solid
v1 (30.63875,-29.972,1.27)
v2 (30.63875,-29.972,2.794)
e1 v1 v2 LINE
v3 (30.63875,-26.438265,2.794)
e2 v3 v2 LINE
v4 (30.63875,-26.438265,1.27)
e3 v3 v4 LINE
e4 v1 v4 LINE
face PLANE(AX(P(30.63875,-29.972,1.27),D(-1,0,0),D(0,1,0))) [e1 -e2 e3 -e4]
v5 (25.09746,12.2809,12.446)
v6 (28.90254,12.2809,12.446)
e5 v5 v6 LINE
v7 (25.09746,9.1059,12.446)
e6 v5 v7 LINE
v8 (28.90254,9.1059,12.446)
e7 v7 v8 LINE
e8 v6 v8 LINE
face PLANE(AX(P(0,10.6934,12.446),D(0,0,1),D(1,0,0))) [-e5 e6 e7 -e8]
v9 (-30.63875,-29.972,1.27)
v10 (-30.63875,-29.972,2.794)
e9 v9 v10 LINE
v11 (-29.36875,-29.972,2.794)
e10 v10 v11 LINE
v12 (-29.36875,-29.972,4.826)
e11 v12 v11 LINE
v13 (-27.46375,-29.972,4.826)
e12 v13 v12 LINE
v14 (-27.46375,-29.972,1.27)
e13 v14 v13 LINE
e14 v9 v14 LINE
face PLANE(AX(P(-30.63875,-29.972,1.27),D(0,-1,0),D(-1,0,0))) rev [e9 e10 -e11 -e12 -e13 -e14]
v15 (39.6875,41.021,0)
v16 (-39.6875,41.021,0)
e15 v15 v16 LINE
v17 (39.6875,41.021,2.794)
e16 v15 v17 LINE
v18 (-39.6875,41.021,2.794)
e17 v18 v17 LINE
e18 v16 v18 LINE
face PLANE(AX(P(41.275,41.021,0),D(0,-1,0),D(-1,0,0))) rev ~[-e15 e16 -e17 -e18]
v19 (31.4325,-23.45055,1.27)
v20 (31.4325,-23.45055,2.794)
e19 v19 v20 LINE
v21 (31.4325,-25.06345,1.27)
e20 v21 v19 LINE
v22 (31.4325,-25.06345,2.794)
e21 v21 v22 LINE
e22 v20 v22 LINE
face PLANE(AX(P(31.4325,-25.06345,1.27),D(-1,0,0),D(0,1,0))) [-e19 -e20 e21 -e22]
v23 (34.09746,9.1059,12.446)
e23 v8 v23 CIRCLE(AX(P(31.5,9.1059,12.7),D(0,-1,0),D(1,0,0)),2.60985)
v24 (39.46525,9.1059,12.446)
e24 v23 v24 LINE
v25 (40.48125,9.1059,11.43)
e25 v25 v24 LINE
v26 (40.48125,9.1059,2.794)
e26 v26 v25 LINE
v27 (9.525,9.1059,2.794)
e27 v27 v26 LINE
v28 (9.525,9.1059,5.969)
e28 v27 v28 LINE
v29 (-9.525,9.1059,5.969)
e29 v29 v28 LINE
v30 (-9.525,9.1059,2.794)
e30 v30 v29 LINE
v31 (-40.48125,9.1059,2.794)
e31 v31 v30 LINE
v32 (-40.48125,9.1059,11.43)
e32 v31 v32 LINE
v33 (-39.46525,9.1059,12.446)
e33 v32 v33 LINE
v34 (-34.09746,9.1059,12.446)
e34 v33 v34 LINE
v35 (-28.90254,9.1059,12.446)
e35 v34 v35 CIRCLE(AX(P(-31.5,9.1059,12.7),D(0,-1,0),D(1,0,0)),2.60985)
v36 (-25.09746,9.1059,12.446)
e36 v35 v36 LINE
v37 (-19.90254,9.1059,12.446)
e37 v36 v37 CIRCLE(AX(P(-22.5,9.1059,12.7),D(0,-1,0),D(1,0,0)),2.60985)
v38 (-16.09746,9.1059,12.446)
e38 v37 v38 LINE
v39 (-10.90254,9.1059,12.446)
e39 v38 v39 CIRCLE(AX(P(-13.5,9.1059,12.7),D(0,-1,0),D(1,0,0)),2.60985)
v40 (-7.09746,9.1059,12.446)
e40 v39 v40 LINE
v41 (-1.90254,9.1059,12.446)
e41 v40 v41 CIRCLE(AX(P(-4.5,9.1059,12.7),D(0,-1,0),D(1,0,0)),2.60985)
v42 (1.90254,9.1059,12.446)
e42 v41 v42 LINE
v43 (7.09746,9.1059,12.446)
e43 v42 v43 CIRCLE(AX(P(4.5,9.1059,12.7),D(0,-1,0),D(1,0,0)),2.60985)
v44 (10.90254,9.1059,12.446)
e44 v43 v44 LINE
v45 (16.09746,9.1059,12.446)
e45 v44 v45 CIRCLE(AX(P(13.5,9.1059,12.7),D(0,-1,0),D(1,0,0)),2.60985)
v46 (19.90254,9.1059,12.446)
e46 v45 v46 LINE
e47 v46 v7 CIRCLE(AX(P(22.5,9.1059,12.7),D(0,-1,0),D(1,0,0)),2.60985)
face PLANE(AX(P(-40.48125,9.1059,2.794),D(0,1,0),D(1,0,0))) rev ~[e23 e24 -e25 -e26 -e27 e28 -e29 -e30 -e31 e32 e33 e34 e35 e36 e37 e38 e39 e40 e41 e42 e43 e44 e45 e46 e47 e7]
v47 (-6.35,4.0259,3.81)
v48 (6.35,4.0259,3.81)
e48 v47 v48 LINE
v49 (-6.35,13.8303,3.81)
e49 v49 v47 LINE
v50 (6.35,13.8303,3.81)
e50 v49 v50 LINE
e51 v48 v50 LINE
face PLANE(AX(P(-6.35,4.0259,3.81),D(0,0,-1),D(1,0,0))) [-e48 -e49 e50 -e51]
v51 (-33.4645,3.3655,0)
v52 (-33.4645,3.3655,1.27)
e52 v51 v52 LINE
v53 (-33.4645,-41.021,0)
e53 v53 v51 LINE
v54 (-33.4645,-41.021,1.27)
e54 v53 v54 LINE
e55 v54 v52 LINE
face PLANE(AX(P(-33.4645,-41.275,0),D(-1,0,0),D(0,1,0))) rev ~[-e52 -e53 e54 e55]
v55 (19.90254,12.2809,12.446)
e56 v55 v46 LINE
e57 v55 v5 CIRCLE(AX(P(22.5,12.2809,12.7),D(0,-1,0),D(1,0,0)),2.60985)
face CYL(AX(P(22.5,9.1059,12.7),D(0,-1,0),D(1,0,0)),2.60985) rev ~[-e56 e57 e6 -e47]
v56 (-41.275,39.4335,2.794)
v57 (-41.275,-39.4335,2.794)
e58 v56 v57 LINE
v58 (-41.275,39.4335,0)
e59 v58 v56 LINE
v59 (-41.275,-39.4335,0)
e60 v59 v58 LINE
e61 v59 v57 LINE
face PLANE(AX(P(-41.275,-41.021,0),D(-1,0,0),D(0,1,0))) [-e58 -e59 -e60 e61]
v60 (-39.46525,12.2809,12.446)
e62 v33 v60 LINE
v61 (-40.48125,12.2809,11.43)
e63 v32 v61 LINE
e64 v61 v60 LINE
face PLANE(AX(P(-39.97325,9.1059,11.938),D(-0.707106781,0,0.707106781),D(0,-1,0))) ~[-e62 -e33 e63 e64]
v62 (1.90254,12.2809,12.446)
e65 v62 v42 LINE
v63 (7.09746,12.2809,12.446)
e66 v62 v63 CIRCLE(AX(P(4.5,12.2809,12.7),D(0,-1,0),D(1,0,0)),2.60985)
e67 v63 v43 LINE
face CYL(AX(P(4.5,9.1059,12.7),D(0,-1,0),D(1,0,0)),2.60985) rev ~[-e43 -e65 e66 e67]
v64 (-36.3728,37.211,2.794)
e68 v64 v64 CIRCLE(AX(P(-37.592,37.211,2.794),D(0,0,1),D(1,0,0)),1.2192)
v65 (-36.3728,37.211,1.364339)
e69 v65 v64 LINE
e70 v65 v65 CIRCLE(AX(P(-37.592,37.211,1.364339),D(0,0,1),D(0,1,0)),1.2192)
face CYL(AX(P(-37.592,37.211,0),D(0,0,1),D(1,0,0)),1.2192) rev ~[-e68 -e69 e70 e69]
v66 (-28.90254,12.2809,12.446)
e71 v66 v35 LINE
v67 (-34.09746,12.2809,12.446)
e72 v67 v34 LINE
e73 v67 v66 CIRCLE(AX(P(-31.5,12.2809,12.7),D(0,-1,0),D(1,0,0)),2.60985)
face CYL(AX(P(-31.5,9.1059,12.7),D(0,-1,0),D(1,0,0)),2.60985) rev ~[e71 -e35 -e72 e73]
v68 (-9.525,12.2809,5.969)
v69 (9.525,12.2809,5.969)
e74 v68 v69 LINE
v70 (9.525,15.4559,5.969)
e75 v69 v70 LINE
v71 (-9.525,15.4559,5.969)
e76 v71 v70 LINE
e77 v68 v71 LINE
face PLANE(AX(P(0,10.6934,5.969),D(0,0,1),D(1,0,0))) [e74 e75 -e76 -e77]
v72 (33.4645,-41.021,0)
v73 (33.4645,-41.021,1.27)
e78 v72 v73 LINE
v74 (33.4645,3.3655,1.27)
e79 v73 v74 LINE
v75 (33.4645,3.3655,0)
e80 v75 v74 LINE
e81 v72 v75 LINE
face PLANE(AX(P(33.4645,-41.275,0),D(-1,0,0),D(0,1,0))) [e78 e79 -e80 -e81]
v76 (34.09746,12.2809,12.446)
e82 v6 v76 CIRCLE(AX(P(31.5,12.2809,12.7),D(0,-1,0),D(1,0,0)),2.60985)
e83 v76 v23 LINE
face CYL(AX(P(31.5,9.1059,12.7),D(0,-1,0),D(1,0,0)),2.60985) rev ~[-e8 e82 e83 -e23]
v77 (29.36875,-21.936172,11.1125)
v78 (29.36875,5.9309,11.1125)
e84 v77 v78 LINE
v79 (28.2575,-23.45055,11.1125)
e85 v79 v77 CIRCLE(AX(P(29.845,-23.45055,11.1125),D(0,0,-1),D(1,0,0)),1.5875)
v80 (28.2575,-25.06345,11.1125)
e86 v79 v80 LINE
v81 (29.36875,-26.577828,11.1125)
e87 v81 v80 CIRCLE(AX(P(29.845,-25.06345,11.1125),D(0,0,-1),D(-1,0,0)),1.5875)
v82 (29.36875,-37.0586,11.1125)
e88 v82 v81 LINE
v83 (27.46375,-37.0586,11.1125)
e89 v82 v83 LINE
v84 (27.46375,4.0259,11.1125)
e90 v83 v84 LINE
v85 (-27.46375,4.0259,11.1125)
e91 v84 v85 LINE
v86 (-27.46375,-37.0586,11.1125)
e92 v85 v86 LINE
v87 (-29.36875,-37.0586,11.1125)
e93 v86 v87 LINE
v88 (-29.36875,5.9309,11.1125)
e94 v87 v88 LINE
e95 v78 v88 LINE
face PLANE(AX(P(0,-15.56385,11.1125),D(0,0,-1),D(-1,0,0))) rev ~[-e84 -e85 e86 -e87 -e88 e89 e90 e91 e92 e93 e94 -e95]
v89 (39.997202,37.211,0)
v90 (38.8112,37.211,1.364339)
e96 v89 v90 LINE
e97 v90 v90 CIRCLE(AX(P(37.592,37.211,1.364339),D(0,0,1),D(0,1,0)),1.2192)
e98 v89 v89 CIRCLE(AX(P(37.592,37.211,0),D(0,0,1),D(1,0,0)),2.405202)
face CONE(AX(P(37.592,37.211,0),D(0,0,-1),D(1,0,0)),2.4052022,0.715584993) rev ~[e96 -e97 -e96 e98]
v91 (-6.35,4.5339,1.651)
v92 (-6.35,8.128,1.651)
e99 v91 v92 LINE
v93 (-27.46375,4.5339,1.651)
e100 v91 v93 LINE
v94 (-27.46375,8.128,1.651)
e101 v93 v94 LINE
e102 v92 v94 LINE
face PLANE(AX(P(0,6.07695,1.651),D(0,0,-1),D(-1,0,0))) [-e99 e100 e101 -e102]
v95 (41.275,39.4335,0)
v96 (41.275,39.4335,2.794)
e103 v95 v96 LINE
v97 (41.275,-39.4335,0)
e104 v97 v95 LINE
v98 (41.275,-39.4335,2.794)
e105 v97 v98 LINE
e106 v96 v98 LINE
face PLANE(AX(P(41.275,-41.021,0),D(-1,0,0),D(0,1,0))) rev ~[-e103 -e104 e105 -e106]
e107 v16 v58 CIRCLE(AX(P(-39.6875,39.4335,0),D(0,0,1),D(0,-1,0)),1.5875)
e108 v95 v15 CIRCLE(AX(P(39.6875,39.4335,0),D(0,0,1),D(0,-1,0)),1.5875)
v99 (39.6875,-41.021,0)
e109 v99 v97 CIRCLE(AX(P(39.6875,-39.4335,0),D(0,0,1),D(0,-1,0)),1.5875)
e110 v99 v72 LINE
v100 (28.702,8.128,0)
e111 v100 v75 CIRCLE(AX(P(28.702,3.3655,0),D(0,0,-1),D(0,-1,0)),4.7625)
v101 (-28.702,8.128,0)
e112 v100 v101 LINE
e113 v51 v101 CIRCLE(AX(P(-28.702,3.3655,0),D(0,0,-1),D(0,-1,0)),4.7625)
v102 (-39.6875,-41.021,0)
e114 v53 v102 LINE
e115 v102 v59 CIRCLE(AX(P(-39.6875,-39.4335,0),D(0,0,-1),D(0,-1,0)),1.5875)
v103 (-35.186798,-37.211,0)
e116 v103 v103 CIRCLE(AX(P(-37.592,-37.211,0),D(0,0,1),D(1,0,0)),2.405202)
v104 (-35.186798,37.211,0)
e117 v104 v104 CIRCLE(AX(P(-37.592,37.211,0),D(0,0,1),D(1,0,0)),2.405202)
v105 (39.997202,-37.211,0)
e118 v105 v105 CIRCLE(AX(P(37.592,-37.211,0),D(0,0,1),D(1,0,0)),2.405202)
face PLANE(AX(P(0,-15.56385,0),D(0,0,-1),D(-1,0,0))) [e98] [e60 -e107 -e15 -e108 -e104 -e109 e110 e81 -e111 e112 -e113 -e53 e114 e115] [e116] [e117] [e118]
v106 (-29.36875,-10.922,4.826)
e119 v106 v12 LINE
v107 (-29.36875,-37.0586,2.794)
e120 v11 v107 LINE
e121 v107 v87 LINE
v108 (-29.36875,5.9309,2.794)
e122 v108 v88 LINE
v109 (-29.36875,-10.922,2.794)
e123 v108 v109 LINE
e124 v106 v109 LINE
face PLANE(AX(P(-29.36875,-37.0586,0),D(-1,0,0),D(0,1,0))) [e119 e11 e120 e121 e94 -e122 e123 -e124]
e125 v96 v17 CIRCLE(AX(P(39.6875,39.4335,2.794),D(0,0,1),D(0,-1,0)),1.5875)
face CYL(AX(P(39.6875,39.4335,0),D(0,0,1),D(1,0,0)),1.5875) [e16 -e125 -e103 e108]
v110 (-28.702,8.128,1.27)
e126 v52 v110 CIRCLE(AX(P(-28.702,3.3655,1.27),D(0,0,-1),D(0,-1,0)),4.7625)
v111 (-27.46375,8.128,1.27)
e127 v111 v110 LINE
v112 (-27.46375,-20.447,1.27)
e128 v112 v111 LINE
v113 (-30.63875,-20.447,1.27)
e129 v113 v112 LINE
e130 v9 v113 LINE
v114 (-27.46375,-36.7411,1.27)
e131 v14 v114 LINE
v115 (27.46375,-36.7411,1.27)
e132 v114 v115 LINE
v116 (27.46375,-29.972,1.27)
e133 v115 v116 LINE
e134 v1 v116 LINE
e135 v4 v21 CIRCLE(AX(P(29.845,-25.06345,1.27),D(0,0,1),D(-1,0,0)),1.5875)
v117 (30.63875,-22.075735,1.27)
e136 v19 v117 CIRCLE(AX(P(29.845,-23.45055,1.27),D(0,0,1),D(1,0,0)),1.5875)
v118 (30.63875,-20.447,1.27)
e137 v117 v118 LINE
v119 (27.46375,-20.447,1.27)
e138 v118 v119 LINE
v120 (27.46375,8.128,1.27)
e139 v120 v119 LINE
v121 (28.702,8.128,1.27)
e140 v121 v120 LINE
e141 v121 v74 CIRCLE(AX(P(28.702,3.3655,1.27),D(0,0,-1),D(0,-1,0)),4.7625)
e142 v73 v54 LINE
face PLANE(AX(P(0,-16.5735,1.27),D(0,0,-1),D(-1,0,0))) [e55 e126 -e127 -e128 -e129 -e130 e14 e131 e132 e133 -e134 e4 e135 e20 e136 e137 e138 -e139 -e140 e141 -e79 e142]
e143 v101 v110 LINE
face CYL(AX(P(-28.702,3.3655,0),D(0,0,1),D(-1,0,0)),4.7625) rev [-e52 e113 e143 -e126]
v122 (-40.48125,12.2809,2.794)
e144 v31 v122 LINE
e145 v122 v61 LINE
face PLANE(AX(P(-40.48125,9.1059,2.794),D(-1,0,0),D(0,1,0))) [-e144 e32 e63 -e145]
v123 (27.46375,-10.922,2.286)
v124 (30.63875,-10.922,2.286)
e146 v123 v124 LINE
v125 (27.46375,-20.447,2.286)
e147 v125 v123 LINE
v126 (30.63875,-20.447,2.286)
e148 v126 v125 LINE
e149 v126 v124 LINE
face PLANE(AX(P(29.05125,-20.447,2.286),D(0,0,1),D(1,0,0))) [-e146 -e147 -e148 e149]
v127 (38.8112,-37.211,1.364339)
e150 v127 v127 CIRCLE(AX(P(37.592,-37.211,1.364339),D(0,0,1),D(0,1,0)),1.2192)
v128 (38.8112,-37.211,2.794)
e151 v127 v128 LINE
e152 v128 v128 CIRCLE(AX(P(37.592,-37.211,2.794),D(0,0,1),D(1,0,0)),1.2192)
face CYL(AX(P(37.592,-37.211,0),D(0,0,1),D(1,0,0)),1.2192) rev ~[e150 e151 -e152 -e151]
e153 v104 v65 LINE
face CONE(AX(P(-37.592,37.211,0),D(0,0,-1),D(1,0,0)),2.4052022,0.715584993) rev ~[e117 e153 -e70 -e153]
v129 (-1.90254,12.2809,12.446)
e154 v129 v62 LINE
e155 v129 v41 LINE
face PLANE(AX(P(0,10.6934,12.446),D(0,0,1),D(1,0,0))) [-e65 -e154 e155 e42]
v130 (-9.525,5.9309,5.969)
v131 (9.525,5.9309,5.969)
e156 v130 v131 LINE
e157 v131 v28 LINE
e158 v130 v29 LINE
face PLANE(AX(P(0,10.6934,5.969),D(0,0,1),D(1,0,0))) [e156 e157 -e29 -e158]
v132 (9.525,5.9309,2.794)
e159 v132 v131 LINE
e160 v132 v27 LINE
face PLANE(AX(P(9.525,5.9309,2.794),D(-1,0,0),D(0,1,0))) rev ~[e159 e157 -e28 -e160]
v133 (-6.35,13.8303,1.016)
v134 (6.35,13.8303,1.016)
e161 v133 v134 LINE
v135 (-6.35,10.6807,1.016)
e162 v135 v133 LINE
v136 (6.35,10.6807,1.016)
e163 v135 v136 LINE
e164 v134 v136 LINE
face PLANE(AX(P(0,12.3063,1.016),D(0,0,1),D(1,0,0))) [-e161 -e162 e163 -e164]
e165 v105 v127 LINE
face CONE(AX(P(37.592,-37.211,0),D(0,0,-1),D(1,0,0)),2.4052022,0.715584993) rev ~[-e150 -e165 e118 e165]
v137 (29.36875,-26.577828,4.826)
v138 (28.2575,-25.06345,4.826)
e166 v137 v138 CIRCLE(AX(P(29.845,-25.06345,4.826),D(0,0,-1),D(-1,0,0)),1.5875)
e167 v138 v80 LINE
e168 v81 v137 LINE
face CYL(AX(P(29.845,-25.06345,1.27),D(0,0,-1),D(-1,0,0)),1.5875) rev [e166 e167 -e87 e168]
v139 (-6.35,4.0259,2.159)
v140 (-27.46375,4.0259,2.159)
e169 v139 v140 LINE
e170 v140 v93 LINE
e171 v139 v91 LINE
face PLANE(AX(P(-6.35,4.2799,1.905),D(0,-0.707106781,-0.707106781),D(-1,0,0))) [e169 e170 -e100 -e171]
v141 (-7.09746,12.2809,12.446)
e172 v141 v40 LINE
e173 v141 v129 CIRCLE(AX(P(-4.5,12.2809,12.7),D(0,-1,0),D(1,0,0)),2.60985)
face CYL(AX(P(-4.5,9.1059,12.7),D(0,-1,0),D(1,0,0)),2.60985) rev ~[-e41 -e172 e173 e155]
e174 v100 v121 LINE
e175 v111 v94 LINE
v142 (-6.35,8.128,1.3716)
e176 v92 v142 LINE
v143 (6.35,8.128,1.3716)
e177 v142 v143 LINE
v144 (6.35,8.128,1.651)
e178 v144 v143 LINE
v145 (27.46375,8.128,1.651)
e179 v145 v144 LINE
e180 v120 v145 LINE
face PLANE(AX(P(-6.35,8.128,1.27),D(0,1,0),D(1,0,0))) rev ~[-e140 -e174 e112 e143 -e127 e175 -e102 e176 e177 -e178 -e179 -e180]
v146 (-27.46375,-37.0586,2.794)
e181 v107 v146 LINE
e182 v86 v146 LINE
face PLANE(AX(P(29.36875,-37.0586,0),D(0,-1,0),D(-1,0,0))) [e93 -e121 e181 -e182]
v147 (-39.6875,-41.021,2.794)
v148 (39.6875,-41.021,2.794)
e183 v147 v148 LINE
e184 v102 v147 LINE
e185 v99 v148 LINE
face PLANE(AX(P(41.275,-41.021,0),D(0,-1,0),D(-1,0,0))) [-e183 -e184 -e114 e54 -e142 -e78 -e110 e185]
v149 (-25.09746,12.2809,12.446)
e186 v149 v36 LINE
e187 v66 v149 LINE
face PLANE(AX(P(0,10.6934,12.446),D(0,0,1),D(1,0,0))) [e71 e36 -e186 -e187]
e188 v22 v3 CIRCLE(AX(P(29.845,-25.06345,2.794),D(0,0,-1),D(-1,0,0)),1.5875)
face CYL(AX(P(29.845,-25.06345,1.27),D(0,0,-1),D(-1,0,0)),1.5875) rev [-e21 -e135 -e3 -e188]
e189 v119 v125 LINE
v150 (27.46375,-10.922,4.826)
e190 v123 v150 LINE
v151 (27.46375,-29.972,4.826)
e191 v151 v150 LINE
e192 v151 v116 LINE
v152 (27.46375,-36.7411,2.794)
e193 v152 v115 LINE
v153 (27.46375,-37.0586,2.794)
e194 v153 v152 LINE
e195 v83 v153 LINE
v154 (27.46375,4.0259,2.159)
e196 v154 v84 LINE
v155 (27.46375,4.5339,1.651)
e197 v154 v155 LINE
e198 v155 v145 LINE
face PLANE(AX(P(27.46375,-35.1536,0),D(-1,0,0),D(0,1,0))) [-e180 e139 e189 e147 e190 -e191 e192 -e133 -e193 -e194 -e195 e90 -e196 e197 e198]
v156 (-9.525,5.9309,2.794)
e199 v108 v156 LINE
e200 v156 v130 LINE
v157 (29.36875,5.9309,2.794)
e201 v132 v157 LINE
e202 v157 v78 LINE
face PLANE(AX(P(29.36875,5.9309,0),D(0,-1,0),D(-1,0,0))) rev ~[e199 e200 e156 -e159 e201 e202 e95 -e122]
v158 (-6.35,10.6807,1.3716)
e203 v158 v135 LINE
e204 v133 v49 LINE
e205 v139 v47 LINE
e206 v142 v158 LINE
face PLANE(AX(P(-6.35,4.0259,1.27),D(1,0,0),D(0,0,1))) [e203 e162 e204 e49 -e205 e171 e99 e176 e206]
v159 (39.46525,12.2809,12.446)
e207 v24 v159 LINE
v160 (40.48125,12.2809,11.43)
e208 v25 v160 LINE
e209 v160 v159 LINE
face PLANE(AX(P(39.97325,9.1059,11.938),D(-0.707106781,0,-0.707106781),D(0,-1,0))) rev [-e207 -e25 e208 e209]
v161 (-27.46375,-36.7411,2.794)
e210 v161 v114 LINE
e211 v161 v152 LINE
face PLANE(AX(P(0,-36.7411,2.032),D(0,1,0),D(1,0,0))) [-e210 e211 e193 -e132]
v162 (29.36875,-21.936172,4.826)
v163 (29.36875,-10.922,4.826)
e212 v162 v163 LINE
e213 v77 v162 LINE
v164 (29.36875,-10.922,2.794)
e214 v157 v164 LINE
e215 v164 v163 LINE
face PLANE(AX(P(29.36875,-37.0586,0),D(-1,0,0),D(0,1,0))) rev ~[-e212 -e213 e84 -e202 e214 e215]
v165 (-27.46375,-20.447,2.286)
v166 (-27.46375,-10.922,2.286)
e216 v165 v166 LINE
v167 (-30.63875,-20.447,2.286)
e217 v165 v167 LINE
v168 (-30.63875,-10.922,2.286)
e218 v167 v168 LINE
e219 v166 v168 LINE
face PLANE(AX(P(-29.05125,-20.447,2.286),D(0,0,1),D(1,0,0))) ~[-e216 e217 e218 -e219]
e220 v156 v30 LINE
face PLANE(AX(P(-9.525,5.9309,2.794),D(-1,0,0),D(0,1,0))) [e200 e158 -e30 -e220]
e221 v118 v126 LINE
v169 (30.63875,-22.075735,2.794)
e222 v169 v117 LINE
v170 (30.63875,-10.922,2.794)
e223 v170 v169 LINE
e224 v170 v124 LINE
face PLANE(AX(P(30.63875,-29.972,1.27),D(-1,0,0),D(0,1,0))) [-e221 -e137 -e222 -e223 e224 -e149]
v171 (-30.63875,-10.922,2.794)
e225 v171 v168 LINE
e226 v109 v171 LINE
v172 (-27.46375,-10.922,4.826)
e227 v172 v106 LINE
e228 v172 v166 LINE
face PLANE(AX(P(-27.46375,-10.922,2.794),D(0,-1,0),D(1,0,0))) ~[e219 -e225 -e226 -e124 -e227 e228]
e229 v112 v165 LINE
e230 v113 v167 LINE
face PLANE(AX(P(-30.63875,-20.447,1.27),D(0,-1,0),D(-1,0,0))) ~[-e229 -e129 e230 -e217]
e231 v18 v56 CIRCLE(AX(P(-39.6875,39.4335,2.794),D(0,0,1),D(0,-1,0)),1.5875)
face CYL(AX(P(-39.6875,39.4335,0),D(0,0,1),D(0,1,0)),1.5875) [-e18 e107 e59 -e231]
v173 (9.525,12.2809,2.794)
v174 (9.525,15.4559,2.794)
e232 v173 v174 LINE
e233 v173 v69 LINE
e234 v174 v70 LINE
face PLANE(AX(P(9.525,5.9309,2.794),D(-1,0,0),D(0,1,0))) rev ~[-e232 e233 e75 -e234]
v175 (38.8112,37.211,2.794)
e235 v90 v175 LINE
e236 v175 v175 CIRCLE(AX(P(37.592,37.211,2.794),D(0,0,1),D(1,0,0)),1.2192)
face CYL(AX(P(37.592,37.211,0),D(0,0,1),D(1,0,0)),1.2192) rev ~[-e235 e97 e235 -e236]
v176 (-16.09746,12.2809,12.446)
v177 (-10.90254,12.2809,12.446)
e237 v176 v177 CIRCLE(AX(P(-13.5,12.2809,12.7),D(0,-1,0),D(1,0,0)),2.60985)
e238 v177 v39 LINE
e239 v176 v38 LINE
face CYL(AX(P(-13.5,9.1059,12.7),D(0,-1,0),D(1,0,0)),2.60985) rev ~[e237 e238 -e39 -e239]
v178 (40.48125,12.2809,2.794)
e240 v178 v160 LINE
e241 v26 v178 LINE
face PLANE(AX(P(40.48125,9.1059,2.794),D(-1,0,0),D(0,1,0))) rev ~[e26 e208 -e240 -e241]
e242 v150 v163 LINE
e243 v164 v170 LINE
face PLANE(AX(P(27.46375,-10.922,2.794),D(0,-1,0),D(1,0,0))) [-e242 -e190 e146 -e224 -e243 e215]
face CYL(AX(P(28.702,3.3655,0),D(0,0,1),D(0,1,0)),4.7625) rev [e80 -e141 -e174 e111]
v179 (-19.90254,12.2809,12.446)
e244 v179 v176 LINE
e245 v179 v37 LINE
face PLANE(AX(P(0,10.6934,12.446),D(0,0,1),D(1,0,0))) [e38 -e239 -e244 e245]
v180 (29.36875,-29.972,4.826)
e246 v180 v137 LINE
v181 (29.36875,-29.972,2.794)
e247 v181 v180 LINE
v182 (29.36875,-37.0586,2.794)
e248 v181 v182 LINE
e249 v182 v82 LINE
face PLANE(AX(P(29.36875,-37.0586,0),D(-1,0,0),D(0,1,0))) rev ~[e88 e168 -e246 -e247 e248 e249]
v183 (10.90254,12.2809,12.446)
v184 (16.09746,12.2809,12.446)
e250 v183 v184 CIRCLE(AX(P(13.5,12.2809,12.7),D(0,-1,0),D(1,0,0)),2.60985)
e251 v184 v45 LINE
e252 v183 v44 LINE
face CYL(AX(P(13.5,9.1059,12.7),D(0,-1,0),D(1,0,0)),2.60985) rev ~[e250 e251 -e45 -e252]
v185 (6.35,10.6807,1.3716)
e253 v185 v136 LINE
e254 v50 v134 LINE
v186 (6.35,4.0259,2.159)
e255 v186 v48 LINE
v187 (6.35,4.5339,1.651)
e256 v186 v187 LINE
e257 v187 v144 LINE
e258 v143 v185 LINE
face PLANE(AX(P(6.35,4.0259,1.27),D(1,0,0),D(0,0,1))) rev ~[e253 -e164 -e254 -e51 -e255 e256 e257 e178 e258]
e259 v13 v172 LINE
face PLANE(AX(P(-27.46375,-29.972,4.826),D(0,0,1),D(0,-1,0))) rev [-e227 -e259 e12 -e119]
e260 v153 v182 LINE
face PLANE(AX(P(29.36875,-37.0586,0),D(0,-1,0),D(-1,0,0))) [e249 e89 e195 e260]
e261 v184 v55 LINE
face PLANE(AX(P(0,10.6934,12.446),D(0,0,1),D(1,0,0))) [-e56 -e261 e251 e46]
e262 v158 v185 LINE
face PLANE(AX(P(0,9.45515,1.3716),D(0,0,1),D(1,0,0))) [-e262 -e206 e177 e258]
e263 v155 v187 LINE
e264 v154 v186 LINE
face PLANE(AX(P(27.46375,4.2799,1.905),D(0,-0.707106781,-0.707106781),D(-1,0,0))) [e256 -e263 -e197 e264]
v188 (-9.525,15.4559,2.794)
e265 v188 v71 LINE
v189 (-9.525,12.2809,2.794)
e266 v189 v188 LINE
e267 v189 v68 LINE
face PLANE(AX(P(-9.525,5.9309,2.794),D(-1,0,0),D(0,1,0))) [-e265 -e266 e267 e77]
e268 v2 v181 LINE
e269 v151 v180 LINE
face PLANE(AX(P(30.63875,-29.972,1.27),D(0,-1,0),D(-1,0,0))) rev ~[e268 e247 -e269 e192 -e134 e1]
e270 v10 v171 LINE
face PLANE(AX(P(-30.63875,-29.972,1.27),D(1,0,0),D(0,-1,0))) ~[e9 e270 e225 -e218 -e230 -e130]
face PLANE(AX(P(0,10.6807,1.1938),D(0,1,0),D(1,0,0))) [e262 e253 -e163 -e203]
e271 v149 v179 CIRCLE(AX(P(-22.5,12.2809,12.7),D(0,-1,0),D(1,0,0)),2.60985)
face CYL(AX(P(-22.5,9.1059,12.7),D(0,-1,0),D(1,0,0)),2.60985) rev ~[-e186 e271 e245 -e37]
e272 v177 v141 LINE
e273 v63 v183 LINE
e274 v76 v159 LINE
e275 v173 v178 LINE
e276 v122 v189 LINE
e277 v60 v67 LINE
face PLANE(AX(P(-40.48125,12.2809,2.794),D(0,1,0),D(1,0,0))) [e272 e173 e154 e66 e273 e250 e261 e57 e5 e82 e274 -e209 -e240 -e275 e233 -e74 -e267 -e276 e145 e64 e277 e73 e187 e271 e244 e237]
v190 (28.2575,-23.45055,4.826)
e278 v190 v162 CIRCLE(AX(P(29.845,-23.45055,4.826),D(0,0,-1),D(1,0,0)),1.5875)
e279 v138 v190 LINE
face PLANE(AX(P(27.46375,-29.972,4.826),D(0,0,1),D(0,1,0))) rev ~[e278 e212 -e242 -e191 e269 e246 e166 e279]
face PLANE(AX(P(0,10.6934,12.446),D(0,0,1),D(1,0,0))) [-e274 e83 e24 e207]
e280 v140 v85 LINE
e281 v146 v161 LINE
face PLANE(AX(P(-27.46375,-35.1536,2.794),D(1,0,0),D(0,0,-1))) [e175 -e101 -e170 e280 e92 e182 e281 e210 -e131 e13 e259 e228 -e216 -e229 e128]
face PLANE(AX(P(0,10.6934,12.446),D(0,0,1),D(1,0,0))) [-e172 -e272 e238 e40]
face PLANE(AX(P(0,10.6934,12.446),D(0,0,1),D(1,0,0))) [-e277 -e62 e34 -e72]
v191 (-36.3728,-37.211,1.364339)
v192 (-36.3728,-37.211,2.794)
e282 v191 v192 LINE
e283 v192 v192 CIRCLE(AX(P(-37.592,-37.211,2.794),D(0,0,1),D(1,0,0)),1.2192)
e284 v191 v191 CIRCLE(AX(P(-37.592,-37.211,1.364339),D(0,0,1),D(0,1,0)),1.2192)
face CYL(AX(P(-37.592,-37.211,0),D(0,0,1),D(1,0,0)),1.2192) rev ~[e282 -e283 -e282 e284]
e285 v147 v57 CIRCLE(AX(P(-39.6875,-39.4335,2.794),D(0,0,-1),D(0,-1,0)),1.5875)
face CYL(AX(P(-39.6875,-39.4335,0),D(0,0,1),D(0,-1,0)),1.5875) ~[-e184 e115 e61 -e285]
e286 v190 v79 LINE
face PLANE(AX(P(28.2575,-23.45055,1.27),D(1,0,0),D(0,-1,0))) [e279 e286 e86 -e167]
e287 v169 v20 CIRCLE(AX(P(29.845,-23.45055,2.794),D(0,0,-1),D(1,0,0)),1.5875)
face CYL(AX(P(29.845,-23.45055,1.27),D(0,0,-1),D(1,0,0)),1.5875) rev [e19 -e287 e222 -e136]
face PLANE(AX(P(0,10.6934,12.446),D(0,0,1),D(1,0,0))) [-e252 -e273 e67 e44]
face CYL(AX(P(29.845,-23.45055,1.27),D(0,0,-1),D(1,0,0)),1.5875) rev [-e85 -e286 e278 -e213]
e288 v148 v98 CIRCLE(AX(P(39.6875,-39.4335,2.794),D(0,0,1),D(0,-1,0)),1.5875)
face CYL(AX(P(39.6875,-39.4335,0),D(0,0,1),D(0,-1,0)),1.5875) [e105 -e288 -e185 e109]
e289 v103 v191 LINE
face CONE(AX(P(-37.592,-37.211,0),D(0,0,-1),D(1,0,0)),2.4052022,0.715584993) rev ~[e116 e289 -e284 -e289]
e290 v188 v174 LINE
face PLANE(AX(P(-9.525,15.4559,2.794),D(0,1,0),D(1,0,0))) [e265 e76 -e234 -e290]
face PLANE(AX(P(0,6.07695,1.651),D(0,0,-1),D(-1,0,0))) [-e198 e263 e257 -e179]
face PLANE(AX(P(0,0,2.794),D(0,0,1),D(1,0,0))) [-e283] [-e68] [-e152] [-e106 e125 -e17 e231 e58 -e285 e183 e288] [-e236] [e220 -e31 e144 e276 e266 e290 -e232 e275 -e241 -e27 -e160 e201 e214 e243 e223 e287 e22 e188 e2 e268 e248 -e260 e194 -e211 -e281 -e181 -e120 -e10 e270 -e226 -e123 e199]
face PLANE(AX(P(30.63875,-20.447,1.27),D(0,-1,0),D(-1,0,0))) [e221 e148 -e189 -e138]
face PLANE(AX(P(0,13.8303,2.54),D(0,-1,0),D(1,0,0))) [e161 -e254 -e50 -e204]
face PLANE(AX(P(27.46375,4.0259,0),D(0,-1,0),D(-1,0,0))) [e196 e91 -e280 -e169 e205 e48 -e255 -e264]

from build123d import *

# Parameters (mm, degrees)
SKETCH1_W                                      = 83.058
SKETCH1_H                                      = 82.55
BOSS_EXTRUDE1_DEPTH                            = 2.794
SKETCH2_W                                      = 58.7375
SKETCH2_H                                      = 42.9895
SKETCH2_W_2                                    = 54.9275
SKETCH2_H_2                                    = 39.1795
BOSS_EXTRUDE2_DEPTH                            = 11.1125
SKETCH5_W                                      = 66.929
SKETCH5_H                                      = 49.403
CUT_EXTRUDE1_DEPTH                             = 1.27
SKETCH2_2_W                                    = 54.9275
SKETCH2_2_H                                    = 39.1795
CUT_EXTRUDE2_DEPTH                             = 60.596737513
CSK_FOR_2_FLAT_HEAD_MACHINE_SCREW1_D           = 2.4384
CSK_FOR_2_FLAT_HEAD_MACHINE_SCREW1_CSINK_D     = 4.8104044
CSK_FOR_2_FLAT_HEAD_MACHINE_SCREW1_CSINK_ANGLE = 82
SKETCH9_W                                      = 12.7
SKETCH9_H                                      = 2.54
CUT_EXTRUDE4_DEPTH                             = 9.8044
SKETCH10_W                                     = 12.7
SKETCH10_H                                     = 3.048
CUT_EXTRUDE5_DEPTH                             = 0.254
SKETCH11_W                                     = 3.175
SKETCH11_H                                     = 9.525
CUT_EXTRUDE7_DEPTH                             = 1.524
SKETCH12_W                                     = 2.032
SKETCH12_H                                     = 19.05
CUT_EXTRUDE8_DEPTH                             = 82.161030266
SKETCH14_W                                     = 3.175
SKETCH14_H                                     = 19.05
CUT_EXTRUDE11_DEPTH                            = 0.508
FILLET2_R                                      = 4.7625
SKETCH15_W                                     = 54.9275
SKETCH15_H                                     = 1.905
CUT_EXTRUDE12_DEPTH                            = 8.3185
SKETCH16_W                                     = 54.9275
SKETCH16_H                                     = 1.524
CUT_EXTRUDE13_DEPTH                            = 1.5875
SKETCH17_W                                     = 12.7
SKETCH17_H                                     = 2.6543
BOSS_EXTRUDE3_DEPTH                            = 0.1016
SKETCH18_W                                     = 12.7
SKETCH18_H                                     = 0.3556
CUT_EXTRUDE14_DEPTH                            = 0.1016
SKETCH19_W                                     = 161.493776118
SKETCH19_H                                     = 133.946930056
SKETCH19_W_2                                   = 82.55
SKETCH19_H_2                                   = 82.042
CUT_EXTRUDE15_DEPTH                            = 60.596737513
FILLET3_R                                      = 1.5875
SKETCH21_W                                     = 80.9625
SKETCH21_H                                     = 3.175
BOSS_EXTRUDE4_DEPTH                            = 9.906
SKETCH22_W                                     = 19.05
SKETCH22_H                                     = 9.525
BOSS_EXTRUDE5_DEPTH                            = 3.175
SKETCH23_W                                     = 12.7
SKETCH23_H                                     = 1.016
CUT_EXTRUDE16_DEPTH                            = 7.8994
SKETCH24_R                                     = 2.60985
CUT_EXTRUDE17_DEPTH                            = 67.163598214
SKETCH25_W                                     = 80.9625
SKETCH25_H                                     = 3.175
CUT_EXTRUDE18_DEPTH                            = 0.254
CHAMFER1_SIZE                                  = 1.016
CUT_EXTRUDE19_DEPTH                            = 60.255810196
SKETCH29_W                                     = 54.9275
SKETCH29_H                                     = 4.1021
CUT_EXTRUDE20_DEPTH                            = 0.381
CHAMFER2_SIZE                                  = 0.508


with BuildPart() as part:
    # Sketch1 → Boss-Extrude1 (new body)
    with BuildSketch(Plane.XY):
        Rectangle(SKETCH1_W, SKETCH1_H)
    extrude(amount=BOSS_EXTRUDE1_DEPTH)

    # Sketch2 → Boss-Extrude2 (add)
    with BuildSketch(Plane(origin=(0, 0, 0), x_dir=(-1, 0, 0), z_dir=(0, 0, -1))):
        with Locations((0, -15.56385)):
            Rectangle(SKETCH2_W, SKETCH2_H)
        with Locations((0, -15.56385)):
            Rectangle(SKETCH2_W_2, SKETCH2_H_2, mode=Mode.SUBTRACT)
    extrude(amount=-BOSS_EXTRUDE2_DEPTH)

    # Sketch5 → Cut-Extrude1 (cut)
    with BuildSketch(Plane(origin=(0, 0, 0), x_dir=(-1, 0, 0), z_dir=(0, 0, -1))):
        with Locations((0, -16.5735)):
            Rectangle(SKETCH5_W, SKETCH5_H)
    extrude(amount=-CUT_EXTRUDE1_DEPTH, mode=Mode.SUBTRACT)

    # Sketch2<2> → Cut-Extrude2 (cut, through all)
    with BuildSketch(Plane(origin=(0, 0, 0), x_dir=(-1, 0, 0), z_dir=(0, 0, -1))):
        with Locations((0, -15.56385)):
            Rectangle(SKETCH2_2_W, SKETCH2_2_H)
    extrude(amount=-CUT_EXTRUDE2_DEPTH, mode=Mode.SUBTRACT)

    # CSK for #2 Flat Head Machine Screw1 (through all)
    with Locations(Plane(origin=(0, 0, 0), x_dir=(-1, 0, 0), z_dir=(0, 0, -1))):
        with Locations((37.592, 37.211), (-37.592, 37.211), (-37.592, -37.211), (37.592, -37.211)):
            CounterSinkHole(CSK_FOR_2_FLAT_HEAD_MACHINE_SCREW1_D / 2, CSK_FOR_2_FLAT_HEAD_MACHINE_SCREW1_CSINK_D / 2, counter_sink_angle=CSK_FOR_2_FLAT_HEAD_MACHINE_SCREW1_CSINK_ANGLE)

    # Sketch9 → Cut-Extrude4 (cut)
    with BuildSketch(Plane.XZ.offset(-4.0259)):
        with Locations((0, 2.54)):
            Rectangle(SKETCH9_W, SKETCH9_H)
    extrude(amount=-CUT_EXTRUDE4_DEPTH, mode=Mode.SUBTRACT)

    # Sketch10 → Cut-Extrude5 (cut)
    with BuildSketch(Plane.XY.offset(1.27)):
        with Locations((0, 12.3063)):
            Rectangle(SKETCH10_W, SKETCH10_H)
    extrude(amount=-CUT_EXTRUDE5_DEPTH, mode=Mode.SUBTRACT)

    # Sketch11 → Cut-Extrude7 (cut)
    with BuildSketch(Plane(origin=(0, 0, 1.27), x_dir=(-1, 0, 0), z_dir=(0, 0, -1))):
        with Locations((-29.05125, -25.2095)):
            Rectangle(SKETCH11_W, SKETCH11_H)
    cut_extrude7 = extrude(amount=-CUT_EXTRUDE7_DEPTH, mode=Mode.SUBTRACT)

    # Sketch12 → Cut-Extrude8 (cut, through all)
    with BuildSketch(Plane.ZY.offset(-27.46375)):
        with Locations((3.81, -20.447)):
            Rectangle(SKETCH12_W, SKETCH12_H)
    cut_extrude8 = extrude(amount=-CUT_EXTRUDE8_DEPTH, mode=Mode.SUBTRACT)

    # Sketch14 → Cut-Extrude11 (cut)
    with BuildSketch(Plane.XY.offset(2.794)):
        with Locations((29.05125, -20.447)):
            Rectangle(SKETCH14_W, SKETCH14_H)
    cut_extrude11 = extrude(amount=-CUT_EXTRUDE11_DEPTH, mode=Mode.SUBTRACT)

    # Mirror1: Cut-Extrude7, Cut-Extrude8, Cut-Extrude11 across plane
    add(cut_extrude7.mirror(Plane(origin=(0, 0, 0), x_dir=(0, 0, 1), z_dir=(1, 0, 0))), mode=Mode.SUBTRACT)
    add(cut_extrude8.mirror(Plane(origin=(0, 0, 0), x_dir=(0, 0, 1), z_dir=(1, 0, 0))), mode=Mode.SUBTRACT)
    add(cut_extrude11.mirror(Plane(origin=(0, 0, 0), x_dir=(0, 0, 1), z_dir=(1, 0, 0))), mode=Mode.SUBTRACT)

    # Fillet2
    fillet2_edges = [part.edges().sort_by_distance(p)[0] for p in [
        (-33.4645, 8.128, 0.635),
        (33.4645, 8.128, 0.635),
    ]]
    fillet(fillet2_edges, radius=FILLET2_R)

    # Sketch15 → Cut-Extrude12 (cut)
    with BuildSketch(Plane.XY.offset(11.1125)):
        with Locations((0, -36.1061)):
            Rectangle(SKETCH15_W, SKETCH15_H)
    extrude(amount=-CUT_EXTRUDE12_DEPTH, mode=Mode.SUBTRACT)

    # Sketch16 → Cut-Extrude13 (cut)
    with BuildSketch(Plane(origin=(0, -35.1536, 0), x_dir=(1, 0, 0), z_dir=(0, 1, 0))):
        with Locations((0, -2.032)):
            Rectangle(SKETCH16_W, SKETCH16_H)
    extrude(amount=-CUT_EXTRUDE13_DEPTH, mode=Mode.SUBTRACT)

    # Sketch17 → Boss-Extrude3 (add)
    with BuildSketch(Plane.XY.offset(1.27)):
        with Locations((0, 9.45515)):
            Rectangle(SKETCH17_W, SKETCH17_H)
    extrude(amount=BOSS_EXTRUDE3_DEPTH)

    # Sketch18 → Cut-Extrude14 (cut)
    with BuildSketch(Plane(origin=(0, 10.7823, 0), x_dir=(1, 0, 0), z_dir=(0, 1, 0))):
        with Locations((0, -1.1938)):
            Rectangle(SKETCH18_W, SKETCH18_H)
    extrude(amount=-CUT_EXTRUDE14_DEPTH, mode=Mode.SUBTRACT)

    # Sketch19 → Cut-Extrude15 (cut, through all)
    with BuildSketch(Plane(origin=(0, 0, 0), x_dir=(-1, 0, 0), z_dir=(0, 0, -1))):
        Rectangle(SKETCH19_W, SKETCH19_H)
        Rectangle(SKETCH19_W_2, SKETCH19_H_2, mode=Mode.SUBTRACT)
    extrude(amount=-CUT_EXTRUDE15_DEPTH, mode=Mode.SUBTRACT)

    # Fillet3
    fillet3_edges = [part.edges().sort_by_distance(p)[0] for p in [
        (41.275, 41.021, 1.397),
        (-41.275, 41.021, 1.397),
        (-41.275, -41.021, 1.397),
        (41.275, -41.021, 1.397),
    ]]
    fillet(fillet3_edges, radius=FILLET3_R)

    # Sketch21 → Boss-Extrude4 (add)
    with BuildSketch(Plane.XY.offset(2.794)):
        with Locations((0, 10.6934)):
            Rectangle(SKETCH21_W, SKETCH21_H)
    extrude(amount=BOSS_EXTRUDE4_DEPTH)

    # Sketch22 → Boss-Extrude5 (add)
    with BuildSketch(Plane.XY.offset(2.794)):
        with Locations((0, 10.6934)):
            Rectangle(SKETCH22_W, SKETCH22_H)
    extrude(amount=BOSS_EXTRUDE5_DEPTH)

    # Sketch23 → Cut-Extrude16 (cut)
    with BuildSketch(Plane.XZ.offset(-5.9309)):
        with Locations((0, 3.302)):
            Rectangle(SKETCH23_W, SKETCH23_H)
    extrude(amount=-CUT_EXTRUDE16_DEPTH, mode=Mode.SUBTRACT)

    # Sketch24 → Cut-Extrude17 (cut, through all)
    with BuildSketch(Plane.XZ.offset(-9.1059)):
        with Locations((-31.5, 12.7)):
            Circle(SKETCH24_R)
        with Locations((-22.5, 12.7)):
            Circle(SKETCH24_R)
        with Locations((31.5, 12.7)):
            Circle(SKETCH24_R)
        with Locations((22.5, 12.7)):
            Circle(SKETCH24_R)
        with Locations((13.5, 12.7)):
            Circle(SKETCH24_R)
        with Locations((4.5, 12.7)):
            Circle(SKETCH24_R)
        with Locations((-4.5, 12.7)):
            Circle(SKETCH24_R)
        with Locations((-13.5, 12.7)):
            Circle(SKETCH24_R)
    extrude(amount=-CUT_EXTRUDE17_DEPTH, mode=Mode.SUBTRACT)

    # Sketch25 → Cut-Extrude18 (cut)
    with BuildSketch(Plane.XY.offset(12.7)):
        with Locations((0, 10.6934)):
            Rectangle(SKETCH25_W, SKETCH25_H)
    extrude(amount=-CUT_EXTRUDE18_DEPTH, mode=Mode.SUBTRACT)

    # Chamfer1
    chamfer1_edges = [part.edges().sort_by_distance(p)[0] for p in [
        (-40.48125, 10.6934, 12.446),
        (40.48125, 10.6934, 12.446),
    ]]
    chamfer(chamfer1_edges, length=CHAMFER1_SIZE)

    # Sketch26 → Cut-Extrude19 (cut, through all)
    with BuildSketch(Plane(origin=(0, 0, 1.27), x_dir=(-1, 0, 0), z_dir=(0, 0, -1))):
        with BuildLine():
            Line((-28.2575, -23.45055), (-28.2575, -25.06345))
            ThreePointArc((-28.2575, -25.06345), (-29.845, -26.65095), (-31.4325, -25.06345))
            Line((-31.4325, -25.06345), (-31.4325, -23.45055))
            ThreePointArc((-31.4325, -23.45055), (-29.845, -21.86305), (-28.2575, -23.45055))
        make_face()
    extrude(amount=-CUT_EXTRUDE19_DEPTH, mode=Mode.SUBTRACT)

    # Sketch29 → Cut-Extrude20 (cut)
    with BuildSketch(Plane(origin=(0, 0, 1.27), x_dir=(-1, 0, 0), z_dir=(0, 0, -1))):
        with Locations((0, 6.07695)):
            Rectangle(SKETCH29_W, SKETCH29_H)
    extrude(amount=-CUT_EXTRUDE20_DEPTH, mode=Mode.SUBTRACT)

    # Chamfer2
    chamfer2_edges = [part.edges().sort_by_distance(p)[0] for p in [
        (-16.906875, 4.0259, 1.651),
        (16.906875, 4.0259, 1.651),
    ]]
    chamfer(chamfer2_edges, length=CHAMFER2_SIZE)


solid = part.part
